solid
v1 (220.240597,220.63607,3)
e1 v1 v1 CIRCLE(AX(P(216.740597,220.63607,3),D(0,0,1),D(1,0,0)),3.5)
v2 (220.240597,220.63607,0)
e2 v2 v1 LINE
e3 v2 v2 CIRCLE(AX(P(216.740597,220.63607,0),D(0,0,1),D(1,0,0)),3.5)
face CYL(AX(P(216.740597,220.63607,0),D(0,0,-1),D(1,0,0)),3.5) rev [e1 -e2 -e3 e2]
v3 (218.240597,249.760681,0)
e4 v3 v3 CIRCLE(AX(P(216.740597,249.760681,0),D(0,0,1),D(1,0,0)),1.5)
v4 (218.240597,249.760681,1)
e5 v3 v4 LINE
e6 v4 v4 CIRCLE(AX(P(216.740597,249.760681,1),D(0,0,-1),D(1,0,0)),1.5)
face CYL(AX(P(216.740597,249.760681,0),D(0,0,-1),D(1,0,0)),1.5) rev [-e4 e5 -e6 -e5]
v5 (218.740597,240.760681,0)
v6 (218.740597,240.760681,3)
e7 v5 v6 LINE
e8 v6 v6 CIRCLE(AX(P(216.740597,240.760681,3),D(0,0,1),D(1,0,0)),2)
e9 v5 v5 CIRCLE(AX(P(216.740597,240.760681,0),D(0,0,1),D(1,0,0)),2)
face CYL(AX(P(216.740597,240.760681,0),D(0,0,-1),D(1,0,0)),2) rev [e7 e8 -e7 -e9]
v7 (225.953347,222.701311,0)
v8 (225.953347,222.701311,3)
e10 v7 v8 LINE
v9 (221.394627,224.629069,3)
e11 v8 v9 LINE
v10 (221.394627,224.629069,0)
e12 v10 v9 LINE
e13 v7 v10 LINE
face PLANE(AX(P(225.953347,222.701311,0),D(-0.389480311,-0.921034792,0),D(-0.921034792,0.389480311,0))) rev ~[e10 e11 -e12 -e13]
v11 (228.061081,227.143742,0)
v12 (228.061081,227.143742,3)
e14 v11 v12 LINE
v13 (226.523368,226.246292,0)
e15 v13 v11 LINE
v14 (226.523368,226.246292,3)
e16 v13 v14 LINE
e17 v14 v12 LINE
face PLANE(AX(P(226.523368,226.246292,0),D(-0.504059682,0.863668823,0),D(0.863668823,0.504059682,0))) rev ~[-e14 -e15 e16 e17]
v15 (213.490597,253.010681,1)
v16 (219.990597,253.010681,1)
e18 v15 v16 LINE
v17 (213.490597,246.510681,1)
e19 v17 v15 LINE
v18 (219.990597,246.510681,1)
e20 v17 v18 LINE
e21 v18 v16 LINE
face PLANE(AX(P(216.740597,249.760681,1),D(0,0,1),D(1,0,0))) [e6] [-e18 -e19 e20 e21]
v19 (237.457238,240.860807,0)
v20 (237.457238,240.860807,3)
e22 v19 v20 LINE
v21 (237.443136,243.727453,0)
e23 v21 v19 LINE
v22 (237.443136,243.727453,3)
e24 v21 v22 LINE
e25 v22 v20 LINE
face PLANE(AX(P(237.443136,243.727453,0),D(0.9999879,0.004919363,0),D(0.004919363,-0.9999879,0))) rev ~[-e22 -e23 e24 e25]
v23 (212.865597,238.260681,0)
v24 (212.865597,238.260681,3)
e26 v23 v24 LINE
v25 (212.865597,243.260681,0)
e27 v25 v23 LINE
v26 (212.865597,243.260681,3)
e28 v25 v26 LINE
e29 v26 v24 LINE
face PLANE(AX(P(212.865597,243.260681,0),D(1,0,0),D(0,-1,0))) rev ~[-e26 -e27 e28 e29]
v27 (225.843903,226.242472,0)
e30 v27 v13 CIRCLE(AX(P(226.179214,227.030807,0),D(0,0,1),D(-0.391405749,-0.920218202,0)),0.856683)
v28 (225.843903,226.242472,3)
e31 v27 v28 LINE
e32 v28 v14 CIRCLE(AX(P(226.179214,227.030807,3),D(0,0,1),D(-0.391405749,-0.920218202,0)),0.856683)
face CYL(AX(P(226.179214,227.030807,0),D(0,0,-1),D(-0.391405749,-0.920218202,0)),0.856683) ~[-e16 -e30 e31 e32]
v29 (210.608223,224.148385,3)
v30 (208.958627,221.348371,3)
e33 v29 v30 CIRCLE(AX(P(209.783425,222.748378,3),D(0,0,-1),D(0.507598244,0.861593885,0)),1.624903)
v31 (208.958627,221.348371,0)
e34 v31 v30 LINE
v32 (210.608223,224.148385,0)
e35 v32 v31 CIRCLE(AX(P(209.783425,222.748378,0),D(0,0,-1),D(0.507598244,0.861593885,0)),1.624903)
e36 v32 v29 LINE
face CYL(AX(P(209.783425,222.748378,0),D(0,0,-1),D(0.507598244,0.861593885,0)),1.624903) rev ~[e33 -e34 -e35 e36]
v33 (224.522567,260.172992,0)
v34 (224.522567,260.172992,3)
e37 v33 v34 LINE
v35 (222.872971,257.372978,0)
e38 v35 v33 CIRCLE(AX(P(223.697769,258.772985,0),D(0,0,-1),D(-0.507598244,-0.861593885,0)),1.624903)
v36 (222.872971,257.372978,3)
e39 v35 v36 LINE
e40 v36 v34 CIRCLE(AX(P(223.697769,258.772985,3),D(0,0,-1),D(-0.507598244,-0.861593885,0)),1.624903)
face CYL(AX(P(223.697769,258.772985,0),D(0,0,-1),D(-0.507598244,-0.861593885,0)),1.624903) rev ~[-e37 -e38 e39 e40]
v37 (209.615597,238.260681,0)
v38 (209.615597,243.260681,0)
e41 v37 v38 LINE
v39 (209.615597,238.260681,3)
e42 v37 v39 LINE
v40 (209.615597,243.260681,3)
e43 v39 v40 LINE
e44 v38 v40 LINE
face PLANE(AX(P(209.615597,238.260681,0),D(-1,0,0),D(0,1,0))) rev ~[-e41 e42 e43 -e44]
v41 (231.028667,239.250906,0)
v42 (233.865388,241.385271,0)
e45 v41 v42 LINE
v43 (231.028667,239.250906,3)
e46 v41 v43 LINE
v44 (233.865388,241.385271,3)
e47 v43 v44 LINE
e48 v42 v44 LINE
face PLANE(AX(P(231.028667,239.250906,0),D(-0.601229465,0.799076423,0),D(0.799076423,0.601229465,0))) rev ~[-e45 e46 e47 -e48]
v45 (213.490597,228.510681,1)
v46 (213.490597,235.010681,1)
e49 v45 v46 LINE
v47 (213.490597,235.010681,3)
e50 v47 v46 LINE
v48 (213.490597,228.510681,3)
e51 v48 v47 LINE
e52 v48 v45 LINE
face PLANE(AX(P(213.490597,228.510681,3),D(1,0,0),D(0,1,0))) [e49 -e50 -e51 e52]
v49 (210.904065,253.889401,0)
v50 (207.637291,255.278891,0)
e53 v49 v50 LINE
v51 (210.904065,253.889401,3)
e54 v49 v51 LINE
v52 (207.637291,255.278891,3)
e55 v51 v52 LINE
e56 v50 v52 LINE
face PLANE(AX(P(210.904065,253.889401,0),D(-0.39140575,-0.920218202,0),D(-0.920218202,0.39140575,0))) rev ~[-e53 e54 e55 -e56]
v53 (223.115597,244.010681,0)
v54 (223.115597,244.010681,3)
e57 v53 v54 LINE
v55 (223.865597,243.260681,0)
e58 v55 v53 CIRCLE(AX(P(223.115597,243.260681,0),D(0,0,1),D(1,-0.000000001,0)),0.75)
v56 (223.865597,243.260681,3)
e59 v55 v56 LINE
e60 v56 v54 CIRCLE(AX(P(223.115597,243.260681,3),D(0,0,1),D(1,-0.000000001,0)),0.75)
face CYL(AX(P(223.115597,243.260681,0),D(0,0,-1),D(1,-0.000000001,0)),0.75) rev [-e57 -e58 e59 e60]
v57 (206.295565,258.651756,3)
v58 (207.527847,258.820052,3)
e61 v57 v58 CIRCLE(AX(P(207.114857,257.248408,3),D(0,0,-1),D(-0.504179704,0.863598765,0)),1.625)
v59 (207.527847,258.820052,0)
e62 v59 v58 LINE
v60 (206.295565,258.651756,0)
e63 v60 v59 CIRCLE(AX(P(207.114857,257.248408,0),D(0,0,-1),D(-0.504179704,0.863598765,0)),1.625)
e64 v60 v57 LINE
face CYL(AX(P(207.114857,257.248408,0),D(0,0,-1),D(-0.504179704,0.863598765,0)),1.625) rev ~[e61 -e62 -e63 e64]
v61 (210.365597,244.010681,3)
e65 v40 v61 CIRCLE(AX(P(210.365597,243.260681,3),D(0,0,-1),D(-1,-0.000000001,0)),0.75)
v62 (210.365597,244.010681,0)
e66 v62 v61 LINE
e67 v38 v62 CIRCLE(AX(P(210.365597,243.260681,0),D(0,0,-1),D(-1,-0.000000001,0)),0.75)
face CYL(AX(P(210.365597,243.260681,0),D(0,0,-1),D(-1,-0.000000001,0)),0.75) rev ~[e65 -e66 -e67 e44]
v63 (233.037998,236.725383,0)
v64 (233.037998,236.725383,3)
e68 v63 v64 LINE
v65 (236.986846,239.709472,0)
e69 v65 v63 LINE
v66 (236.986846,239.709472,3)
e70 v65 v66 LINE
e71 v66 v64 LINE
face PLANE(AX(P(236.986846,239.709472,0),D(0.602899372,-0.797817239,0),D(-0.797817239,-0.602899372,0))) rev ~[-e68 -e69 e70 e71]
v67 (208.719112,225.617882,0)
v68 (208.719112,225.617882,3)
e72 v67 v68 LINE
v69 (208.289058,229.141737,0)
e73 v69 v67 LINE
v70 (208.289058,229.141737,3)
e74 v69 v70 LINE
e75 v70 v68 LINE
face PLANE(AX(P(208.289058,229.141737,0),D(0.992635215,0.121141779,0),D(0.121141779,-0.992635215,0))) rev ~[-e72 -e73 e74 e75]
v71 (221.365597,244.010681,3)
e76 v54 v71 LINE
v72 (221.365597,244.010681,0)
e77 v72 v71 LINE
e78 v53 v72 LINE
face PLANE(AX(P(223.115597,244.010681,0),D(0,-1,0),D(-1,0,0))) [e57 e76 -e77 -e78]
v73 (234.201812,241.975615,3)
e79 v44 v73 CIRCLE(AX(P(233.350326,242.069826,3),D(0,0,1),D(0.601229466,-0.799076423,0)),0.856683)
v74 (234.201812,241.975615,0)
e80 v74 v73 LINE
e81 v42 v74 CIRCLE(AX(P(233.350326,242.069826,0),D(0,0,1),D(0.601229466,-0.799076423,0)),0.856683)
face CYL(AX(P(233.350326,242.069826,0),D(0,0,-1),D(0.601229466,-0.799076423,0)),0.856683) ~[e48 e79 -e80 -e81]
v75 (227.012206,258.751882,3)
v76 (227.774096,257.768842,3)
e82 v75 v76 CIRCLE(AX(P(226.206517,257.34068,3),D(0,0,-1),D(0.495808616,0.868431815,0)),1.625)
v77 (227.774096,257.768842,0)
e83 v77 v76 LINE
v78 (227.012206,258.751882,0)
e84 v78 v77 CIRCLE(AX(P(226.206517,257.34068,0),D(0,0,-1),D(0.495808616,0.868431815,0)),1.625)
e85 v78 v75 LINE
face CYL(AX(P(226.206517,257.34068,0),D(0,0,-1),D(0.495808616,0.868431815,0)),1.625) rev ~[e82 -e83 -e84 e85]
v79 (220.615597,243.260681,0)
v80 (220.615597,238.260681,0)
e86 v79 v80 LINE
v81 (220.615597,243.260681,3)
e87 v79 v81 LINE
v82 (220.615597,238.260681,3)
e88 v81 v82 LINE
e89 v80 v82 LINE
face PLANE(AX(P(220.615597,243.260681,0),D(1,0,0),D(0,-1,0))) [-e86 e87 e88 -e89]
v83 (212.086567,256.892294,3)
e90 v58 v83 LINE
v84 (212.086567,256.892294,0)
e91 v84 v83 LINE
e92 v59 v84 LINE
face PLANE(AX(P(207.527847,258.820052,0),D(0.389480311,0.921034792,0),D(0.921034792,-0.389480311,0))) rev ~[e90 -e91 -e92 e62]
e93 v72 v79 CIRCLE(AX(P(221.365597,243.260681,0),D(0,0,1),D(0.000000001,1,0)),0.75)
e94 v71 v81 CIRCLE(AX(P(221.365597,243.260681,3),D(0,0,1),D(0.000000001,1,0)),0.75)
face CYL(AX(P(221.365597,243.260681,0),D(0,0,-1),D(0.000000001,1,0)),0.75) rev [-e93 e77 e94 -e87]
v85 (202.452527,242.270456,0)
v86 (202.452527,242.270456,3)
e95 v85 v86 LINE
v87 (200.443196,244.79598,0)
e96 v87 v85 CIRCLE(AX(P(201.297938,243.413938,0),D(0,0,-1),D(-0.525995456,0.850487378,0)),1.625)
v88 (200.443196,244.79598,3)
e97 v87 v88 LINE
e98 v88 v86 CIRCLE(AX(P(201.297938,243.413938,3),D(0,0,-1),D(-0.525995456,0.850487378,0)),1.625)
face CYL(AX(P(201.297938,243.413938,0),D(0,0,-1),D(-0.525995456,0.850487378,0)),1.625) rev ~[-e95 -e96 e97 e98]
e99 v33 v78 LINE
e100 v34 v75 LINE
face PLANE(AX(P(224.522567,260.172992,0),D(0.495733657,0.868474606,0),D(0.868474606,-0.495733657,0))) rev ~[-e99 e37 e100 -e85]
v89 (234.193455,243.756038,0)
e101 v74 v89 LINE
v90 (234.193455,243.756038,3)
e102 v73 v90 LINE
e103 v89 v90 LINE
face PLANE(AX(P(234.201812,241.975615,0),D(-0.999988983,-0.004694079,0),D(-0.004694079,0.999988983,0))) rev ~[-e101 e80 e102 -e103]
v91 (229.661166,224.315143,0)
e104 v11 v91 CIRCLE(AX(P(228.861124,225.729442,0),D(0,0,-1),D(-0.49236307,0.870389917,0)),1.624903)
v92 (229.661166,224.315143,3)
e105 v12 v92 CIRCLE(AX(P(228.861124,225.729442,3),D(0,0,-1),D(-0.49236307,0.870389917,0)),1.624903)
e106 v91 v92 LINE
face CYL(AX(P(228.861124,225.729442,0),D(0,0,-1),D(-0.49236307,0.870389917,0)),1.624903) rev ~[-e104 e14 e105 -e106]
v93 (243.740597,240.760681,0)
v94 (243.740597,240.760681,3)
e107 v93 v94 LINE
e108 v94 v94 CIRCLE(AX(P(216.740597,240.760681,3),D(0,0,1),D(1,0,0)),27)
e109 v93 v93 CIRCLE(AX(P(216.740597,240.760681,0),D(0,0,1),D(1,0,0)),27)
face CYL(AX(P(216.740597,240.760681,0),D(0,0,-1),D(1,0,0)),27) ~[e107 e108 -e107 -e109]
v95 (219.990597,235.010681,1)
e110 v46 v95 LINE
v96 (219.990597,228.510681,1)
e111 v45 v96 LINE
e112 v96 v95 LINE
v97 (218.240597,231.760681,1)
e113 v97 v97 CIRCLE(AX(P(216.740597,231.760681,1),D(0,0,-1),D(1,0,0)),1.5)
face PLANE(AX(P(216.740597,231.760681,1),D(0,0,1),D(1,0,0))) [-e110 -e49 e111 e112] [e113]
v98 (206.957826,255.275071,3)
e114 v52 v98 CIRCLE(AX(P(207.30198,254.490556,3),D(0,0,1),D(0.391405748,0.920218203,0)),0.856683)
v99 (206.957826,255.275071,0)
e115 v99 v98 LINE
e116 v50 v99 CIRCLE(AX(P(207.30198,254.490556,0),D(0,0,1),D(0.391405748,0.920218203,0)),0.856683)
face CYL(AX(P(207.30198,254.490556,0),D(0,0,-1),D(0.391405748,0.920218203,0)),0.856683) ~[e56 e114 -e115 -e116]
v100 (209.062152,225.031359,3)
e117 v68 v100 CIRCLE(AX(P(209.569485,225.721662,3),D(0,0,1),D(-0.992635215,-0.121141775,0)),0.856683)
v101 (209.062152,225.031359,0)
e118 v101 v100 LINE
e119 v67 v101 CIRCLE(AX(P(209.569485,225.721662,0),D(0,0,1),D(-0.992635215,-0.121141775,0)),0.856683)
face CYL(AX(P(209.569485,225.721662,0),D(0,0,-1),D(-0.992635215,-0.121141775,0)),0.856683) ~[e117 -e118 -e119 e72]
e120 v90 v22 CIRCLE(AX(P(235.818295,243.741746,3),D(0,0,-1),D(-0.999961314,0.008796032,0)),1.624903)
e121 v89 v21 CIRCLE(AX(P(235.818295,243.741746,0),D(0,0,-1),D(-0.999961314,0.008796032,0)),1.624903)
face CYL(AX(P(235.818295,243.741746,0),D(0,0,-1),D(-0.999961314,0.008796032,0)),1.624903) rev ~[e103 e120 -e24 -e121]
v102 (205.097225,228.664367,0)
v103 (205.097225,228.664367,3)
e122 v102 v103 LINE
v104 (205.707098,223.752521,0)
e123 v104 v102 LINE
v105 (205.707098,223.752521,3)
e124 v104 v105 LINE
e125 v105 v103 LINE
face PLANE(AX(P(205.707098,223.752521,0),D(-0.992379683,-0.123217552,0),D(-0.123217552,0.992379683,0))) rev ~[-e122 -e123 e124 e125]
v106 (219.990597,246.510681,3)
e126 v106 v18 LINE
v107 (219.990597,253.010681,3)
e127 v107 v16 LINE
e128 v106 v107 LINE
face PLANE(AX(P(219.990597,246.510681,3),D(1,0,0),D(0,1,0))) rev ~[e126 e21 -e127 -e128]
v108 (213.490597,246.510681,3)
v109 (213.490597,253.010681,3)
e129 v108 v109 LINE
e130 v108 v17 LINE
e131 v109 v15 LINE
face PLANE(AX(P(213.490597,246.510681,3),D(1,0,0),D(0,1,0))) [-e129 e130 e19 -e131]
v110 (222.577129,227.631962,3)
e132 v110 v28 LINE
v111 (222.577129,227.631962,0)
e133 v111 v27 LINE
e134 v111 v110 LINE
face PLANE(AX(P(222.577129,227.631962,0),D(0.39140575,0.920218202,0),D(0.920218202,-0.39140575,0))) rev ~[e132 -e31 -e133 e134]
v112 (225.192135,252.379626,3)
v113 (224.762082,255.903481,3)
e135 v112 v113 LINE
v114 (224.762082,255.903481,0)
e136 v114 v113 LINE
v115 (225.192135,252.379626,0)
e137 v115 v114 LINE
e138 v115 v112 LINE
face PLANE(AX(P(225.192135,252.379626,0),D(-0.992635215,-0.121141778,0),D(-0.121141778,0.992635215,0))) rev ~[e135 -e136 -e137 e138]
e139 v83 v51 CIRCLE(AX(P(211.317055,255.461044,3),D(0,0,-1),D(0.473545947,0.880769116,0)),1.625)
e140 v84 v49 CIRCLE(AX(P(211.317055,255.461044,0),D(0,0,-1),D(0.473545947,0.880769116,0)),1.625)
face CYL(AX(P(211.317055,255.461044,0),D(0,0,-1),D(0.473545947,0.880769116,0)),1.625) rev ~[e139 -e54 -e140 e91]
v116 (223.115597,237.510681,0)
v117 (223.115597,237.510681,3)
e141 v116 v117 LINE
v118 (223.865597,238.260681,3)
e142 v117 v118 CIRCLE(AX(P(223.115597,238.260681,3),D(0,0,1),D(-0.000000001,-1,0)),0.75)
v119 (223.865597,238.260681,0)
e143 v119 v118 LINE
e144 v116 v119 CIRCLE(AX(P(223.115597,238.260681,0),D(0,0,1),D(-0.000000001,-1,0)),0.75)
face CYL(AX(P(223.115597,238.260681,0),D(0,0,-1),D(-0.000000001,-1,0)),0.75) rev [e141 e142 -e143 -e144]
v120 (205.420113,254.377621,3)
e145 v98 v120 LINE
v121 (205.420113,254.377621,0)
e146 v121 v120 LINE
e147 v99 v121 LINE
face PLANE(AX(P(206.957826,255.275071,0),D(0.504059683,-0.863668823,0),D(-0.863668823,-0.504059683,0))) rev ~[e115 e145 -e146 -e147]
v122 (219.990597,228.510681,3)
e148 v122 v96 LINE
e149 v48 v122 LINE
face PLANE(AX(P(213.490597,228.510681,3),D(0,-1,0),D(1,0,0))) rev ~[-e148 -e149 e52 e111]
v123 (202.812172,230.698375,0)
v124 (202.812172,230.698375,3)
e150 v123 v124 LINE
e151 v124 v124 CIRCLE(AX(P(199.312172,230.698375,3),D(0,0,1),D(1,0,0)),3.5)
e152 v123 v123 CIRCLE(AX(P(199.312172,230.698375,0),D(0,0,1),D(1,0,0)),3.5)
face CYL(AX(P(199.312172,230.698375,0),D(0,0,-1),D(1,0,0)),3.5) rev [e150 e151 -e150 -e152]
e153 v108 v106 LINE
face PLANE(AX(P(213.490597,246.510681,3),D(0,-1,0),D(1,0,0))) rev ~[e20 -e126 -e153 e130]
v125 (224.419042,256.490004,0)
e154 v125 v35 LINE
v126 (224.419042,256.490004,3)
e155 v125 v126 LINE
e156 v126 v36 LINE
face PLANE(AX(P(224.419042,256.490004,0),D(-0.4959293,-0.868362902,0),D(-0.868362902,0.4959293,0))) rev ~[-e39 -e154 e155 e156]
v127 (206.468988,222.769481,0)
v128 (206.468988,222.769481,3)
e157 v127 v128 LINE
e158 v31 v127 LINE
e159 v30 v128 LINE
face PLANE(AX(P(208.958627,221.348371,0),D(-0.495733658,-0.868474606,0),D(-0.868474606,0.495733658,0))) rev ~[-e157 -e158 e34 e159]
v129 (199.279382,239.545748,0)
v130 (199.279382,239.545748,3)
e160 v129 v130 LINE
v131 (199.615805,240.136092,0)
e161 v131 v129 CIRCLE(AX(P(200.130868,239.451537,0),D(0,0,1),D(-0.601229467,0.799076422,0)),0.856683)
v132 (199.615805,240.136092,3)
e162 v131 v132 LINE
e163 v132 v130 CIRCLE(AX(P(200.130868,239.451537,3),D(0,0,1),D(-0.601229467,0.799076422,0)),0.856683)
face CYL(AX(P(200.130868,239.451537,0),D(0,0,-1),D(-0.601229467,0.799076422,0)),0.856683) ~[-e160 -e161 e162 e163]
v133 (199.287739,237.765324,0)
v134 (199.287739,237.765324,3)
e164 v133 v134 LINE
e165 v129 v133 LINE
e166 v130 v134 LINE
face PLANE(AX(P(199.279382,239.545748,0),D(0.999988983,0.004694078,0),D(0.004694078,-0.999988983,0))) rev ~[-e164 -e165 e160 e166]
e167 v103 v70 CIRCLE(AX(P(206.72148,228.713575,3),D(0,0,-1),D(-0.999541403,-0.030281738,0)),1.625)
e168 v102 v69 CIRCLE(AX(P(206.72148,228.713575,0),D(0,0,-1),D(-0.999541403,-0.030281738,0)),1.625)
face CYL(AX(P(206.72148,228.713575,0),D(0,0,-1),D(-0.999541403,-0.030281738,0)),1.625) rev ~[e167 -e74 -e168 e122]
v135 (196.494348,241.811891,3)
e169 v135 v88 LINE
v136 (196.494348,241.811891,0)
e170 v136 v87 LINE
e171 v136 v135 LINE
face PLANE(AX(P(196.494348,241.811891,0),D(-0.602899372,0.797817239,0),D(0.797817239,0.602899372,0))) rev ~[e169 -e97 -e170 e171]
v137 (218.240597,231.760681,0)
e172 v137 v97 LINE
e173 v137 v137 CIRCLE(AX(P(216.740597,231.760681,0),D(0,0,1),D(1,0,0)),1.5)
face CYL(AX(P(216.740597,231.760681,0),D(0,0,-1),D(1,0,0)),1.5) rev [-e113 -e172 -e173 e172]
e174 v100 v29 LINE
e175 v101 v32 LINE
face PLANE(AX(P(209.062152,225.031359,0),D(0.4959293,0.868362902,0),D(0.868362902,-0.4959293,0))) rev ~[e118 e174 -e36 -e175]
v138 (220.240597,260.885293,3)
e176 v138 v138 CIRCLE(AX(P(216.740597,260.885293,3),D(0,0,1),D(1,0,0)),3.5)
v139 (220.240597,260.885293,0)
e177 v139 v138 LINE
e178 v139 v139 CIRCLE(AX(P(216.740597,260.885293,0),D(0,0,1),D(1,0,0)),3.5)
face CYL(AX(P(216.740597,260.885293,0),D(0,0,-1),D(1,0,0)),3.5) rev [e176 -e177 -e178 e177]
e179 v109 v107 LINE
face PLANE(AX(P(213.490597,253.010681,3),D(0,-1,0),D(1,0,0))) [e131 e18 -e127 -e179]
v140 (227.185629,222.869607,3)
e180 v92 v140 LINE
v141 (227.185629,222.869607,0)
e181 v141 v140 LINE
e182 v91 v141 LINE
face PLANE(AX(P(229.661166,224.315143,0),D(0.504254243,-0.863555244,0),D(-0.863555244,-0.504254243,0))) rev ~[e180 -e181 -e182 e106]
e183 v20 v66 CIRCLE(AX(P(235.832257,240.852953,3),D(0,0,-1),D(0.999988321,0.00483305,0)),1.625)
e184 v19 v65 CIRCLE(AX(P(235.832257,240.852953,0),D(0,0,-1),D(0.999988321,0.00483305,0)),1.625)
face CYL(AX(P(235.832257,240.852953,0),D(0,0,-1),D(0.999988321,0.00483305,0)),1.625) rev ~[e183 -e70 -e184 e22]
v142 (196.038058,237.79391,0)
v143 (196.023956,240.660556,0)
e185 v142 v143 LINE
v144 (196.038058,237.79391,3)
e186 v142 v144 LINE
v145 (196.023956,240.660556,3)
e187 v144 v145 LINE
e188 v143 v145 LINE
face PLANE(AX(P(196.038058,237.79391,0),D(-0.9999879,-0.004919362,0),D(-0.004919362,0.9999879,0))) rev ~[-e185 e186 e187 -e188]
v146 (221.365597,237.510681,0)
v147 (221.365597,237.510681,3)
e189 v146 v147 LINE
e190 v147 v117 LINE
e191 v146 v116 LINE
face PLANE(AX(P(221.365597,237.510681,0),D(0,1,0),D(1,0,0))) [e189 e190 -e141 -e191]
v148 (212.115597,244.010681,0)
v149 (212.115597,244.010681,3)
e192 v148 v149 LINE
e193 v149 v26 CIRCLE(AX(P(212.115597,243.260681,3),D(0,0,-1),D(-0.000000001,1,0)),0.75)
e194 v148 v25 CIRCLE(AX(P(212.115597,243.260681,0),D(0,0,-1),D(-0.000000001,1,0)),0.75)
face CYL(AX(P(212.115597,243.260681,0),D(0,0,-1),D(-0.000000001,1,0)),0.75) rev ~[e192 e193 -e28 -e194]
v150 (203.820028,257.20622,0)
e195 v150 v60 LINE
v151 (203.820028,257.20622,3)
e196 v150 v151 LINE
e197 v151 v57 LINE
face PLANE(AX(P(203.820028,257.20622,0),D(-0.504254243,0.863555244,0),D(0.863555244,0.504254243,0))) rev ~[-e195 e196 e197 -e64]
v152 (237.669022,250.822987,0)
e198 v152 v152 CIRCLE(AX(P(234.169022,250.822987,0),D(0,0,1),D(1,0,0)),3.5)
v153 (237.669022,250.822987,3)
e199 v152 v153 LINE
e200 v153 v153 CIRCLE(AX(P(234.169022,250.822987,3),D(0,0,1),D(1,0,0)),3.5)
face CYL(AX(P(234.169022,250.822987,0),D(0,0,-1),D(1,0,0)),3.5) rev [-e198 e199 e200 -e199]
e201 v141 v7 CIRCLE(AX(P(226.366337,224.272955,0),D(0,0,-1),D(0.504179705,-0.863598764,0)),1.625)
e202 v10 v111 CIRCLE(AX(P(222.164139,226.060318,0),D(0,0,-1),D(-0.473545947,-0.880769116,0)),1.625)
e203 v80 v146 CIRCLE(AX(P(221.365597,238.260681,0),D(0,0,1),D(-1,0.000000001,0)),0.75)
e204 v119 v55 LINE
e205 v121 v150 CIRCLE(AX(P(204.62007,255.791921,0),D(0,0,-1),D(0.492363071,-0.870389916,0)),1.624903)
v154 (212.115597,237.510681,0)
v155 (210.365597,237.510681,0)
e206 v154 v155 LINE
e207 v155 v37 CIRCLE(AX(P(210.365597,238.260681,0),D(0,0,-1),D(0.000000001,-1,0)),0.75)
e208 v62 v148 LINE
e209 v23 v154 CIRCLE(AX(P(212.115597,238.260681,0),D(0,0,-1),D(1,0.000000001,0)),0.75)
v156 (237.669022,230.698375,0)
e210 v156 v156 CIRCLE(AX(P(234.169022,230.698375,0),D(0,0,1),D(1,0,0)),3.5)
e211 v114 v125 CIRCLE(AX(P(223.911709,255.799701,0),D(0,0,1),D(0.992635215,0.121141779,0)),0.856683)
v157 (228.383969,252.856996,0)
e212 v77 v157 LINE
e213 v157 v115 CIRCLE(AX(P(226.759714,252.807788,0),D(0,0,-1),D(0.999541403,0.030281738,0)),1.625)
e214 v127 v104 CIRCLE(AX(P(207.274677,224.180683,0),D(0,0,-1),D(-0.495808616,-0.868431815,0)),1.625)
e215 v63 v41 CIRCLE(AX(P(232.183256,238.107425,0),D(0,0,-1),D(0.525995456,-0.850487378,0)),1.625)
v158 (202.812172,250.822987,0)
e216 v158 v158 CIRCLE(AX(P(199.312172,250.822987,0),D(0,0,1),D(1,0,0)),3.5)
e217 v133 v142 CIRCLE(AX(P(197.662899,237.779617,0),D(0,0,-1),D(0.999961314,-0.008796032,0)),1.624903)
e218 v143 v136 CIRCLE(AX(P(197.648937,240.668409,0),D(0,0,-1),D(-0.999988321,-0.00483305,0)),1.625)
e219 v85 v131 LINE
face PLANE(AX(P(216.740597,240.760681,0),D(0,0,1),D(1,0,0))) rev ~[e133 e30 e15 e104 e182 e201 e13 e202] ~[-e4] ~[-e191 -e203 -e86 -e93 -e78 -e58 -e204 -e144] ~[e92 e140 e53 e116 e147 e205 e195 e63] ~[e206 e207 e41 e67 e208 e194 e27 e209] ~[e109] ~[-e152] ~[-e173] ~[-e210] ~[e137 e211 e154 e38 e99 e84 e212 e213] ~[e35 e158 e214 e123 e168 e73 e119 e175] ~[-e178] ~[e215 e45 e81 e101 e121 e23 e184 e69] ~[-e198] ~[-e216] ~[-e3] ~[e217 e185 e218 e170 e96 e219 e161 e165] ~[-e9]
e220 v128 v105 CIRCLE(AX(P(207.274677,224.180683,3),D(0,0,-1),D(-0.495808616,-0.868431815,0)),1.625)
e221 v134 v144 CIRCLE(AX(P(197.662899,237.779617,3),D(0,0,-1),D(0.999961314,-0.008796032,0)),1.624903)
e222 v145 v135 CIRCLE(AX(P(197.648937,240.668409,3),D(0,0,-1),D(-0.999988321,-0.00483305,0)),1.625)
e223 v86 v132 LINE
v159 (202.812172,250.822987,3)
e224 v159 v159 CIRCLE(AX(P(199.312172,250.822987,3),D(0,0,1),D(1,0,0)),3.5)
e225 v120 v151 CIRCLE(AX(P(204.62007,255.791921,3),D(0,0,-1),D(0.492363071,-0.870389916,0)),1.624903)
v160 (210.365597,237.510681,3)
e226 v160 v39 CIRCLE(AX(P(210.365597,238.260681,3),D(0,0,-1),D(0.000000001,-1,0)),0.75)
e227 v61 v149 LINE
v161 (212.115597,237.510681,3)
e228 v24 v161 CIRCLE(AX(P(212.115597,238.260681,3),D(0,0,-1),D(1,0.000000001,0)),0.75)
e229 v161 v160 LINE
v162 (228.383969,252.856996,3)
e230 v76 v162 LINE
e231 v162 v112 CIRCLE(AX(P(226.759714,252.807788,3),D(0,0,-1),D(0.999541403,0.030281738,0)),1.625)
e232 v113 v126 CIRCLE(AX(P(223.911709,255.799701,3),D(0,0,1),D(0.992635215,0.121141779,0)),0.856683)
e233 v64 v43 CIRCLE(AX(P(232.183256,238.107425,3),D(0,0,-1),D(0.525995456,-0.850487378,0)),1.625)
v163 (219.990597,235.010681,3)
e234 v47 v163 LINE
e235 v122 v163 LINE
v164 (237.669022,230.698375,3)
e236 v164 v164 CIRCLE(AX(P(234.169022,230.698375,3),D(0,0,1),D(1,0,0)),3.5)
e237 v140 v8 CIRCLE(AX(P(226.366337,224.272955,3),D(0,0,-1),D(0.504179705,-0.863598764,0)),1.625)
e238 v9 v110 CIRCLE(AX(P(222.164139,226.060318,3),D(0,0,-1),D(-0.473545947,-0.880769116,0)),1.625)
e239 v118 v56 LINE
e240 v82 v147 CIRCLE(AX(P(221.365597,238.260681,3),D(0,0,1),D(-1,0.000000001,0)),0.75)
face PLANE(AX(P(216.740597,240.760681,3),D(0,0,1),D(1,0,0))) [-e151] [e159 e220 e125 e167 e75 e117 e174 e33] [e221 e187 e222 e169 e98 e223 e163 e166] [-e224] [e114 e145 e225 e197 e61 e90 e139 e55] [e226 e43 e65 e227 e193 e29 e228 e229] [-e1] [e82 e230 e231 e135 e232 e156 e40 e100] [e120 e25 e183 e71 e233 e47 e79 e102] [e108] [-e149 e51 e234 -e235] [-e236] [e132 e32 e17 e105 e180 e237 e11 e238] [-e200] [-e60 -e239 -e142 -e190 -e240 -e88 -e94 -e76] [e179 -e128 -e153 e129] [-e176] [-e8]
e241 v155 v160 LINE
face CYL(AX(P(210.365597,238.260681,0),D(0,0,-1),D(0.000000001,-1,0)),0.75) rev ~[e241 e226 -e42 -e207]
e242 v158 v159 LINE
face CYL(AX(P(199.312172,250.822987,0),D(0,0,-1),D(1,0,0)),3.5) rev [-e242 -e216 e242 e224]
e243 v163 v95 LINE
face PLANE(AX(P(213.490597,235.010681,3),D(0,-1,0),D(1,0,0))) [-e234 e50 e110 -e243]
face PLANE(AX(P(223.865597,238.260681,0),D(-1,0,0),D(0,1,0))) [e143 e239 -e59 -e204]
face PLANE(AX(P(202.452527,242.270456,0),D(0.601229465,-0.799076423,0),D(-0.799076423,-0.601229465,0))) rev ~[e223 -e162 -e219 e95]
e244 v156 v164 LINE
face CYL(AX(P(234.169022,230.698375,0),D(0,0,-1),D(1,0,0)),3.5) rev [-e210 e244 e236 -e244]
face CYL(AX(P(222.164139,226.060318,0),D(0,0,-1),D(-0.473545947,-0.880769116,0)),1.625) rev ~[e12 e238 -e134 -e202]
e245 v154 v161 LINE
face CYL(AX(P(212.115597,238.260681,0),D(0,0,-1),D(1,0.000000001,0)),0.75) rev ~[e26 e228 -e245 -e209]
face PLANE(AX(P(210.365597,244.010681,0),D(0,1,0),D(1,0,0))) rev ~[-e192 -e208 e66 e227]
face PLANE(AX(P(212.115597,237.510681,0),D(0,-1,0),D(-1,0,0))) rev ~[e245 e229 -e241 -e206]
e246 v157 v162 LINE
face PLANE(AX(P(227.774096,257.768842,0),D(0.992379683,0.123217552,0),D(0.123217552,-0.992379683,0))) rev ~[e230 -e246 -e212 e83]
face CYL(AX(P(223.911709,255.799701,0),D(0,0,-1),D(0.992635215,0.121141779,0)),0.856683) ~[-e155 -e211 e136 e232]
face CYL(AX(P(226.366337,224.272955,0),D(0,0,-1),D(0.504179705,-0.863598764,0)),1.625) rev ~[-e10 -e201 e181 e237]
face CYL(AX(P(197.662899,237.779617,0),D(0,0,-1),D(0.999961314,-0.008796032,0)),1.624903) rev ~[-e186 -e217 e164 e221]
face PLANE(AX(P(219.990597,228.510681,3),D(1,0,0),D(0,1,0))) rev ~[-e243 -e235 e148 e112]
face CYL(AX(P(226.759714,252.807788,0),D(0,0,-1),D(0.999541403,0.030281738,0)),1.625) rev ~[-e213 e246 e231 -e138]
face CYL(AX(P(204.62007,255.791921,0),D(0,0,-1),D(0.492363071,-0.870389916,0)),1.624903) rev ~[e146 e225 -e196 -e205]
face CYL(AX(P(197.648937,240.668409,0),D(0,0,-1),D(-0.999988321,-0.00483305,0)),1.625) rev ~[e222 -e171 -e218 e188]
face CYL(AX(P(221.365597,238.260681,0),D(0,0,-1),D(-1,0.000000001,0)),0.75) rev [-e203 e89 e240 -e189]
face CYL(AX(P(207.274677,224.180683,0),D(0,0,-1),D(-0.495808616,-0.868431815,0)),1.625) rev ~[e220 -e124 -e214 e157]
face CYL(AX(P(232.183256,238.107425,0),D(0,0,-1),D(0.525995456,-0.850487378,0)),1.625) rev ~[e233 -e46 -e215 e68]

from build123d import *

# Parameters (mm, degrees)
MODEL_R                 = 27
MODEL_R_2               = 1.5
MODEL_R_3               = 3.5
MODEL_R_4               = 2
SALIENTE_EXTRUIR1_DEPTH = 3
CROQUIS2_W              = 6.5
CROQUIS2_H              = 6.5
CORTAR_EXTRUIR1_DEPTH   = 2


with BuildPart() as part:
    # Model → Saliente-Extruir1 (new body)
    with BuildSketch(Plane.XY):
        with Locations((216.74059699, 240.760681356)):
            Circle(MODEL_R)
        with Locations((216.74059699, 249.760681356)):
            Circle(MODEL_R_2, mode=Mode.SUBTRACT)
        with BuildLine():
            ThreePointArc((208.719111811, 225.617882009), (208.829996246, 225.28915626), (209.06215237, 225.03135884))
            Line((209.06215237, 225.03135884), (210.608223397, 224.148384774))
            ThreePointArc((210.608223397, 224.148384774), (211.183432146, 221.923579716), (208.958627088, 221.348370966))
            Line((208.958627088, 221.348370966), (206.468987847, 222.769480989))
            ThreePointArc((206.468987847, 222.769480989), (205.990273761, 223.185226154), (205.707098402, 223.752520553))
            Line((205.707098402, 223.752520553), (205.097225271, 228.664367063))
            ThreePointArc((205.097225271, 228.664367063), (206.481118716, 230.320700093), (208.289058497, 229.141737021))
            Line((208.289058497, 229.141737021), (208.719111811, 225.617882009))
        make_face(mode=Mode.SUBTRACT)
        with Locations((199.312171932, 230.698375457)):
            Circle(MODEL_R_3, mode=Mode.SUBTRACT)
        with BuildLine():
            ThreePointArc((199.615805481, 240.136091624), (199.38656285, 239.875700011), (199.279381797, 239.5457482))
            Line((199.279381797, 239.5457482), (199.287739338, 237.765324382))
            ThreePointArc((199.287739338, 237.765324382), (197.648606014, 236.154776464), (196.038058096, 237.793909788))
            Line((196.038058096, 237.793909788), (196.023955856, 240.660555628))
            ThreePointArc((196.023955856, 240.660555628), (196.144644688, 241.283006771), (196.494348369, 241.811891025))
            Line((196.494348369, 241.811891025), (200.44319566, 244.795979904))
            ThreePointArc((200.44319566, 244.795979904), (202.569568865, 244.42565954), (202.452526784, 242.270456224))
            Line((202.452526784, 242.270456224), (199.615805481, 240.136091624))
        make_face(mode=Mode.SUBTRACT)
        with Locations((216.74059699, 220.636069558)):
            Circle(MODEL_R_3, mode=Mode.SUBTRACT)
        with BuildLine():
            ThreePointArc((225.84390332, 226.242471741), (226.184030387, 226.174137605), (226.523367563, 226.246291995))
            Line((226.523367563, 226.246291995), (228.061081049, 227.143741747))
            ThreePointArc((228.061081049, 227.143741747), (230.275423122, 226.529484608), (229.661165983, 224.315142535))
            Line((229.661165983, 224.315142535), (227.185628981, 222.869606716))
            ThreePointArc((227.185628981, 222.869606716), (226.586226063, 222.662900739), (225.953347023, 222.701310884))
            Line((225.953347023, 222.701310884), (221.3946266, 224.629068514))
            ThreePointArc((221.3946266, 224.629068514), (220.652146842, 226.65572191), (222.577128703, 227.631962152))
            Line((222.577128703, 227.631962152), (225.84390332, 226.242471741))
        make_face(mode=Mode.SUBTRACT)
        with Locations((234.169022048, 230.698375457)):
            Circle(MODEL_R_3, mode=Mode.SUBTRACT)
        with Locations((199.312171932, 250.822987255)):
            Circle(MODEL_R_3, mode=Mode.SUBTRACT)
        with BuildLine():
            ThreePointArc((209.61559699, 243.260681356), (209.835266904, 243.791011442), (210.36559699, 244.010681356))
            Line((210.36559699, 244.010681356), (212.11559699, 244.010681356))
            ThreePointArc((212.11559699, 244.010681356), (212.645927076, 243.791011442), (212.86559699, 243.260681356))
            Line((212.86559699, 243.260681356), (212.86559699, 238.260681356))
            ThreePointArc((212.86559699, 238.260681356), (212.645927076, 237.73035127), (212.11559699, 237.510681356))
            Line((212.11559699, 237.510681356), (210.36559699, 237.510681356))
            ThreePointArc((210.36559699, 237.510681356), (209.835266904, 237.73035127), (209.61559699, 238.260681356))
            Line((209.61559699, 238.260681356), (209.61559699, 243.260681356))
        make_face(mode=Mode.SUBTRACT)
        with BuildLine():
            ThreePointArc((207.637290661, 255.278890971), (207.297163594, 255.347225107), (206.957826417, 255.275070717))
            Line((206.957826417, 255.275070717), (205.420112932, 254.377620965))
            ThreePointArc((205.420112932, 254.377620965), (203.205770858, 254.991878104), (203.820027998, 257.206220177))
            Line((203.820027998, 257.206220177), (206.295564999, 258.651755995))
            ThreePointArc((206.295564999, 258.651755995), (206.894967917, 258.858461972), (207.527846958, 258.820051828))
            Line((207.527846958, 258.820051828), (212.08656738, 256.892294198))
            ThreePointArc((212.08656738, 256.892294198), (212.829047139, 254.865640802), (210.904065277, 253.889400559))
            Line((210.904065277, 253.889400559), (207.637290661, 255.278890971))
        make_face(mode=Mode.SUBTRACT)
        with Locations((216.74059699, 240.760681356)):
            Circle(MODEL_R_4, mode=Mode.SUBTRACT)
        with BuildLine():
            Line((221.36559699, 244.010681356), (223.11559699, 244.010681356))
            ThreePointArc((223.11559699, 244.010681356), (223.645927076, 243.791011442), (223.86559699, 243.260681356))
            Line((223.86559699, 243.260681356), (223.86559699, 238.260681356))
            ThreePointArc((223.86559699, 238.260681356), (223.645927076, 237.73035127), (223.11559699, 237.510681356))
            Line((223.11559699, 237.510681356), (221.36559699, 237.510681356))
            ThreePointArc((221.36559699, 237.510681356), (220.835266904, 237.73035127), (220.61559699, 238.260681356))
            Line((220.61559699, 238.260681356), (220.61559699, 243.260681356))
            ThreePointArc((220.61559699, 243.260681356), (220.835266904, 243.791011442), (221.36559699, 244.010681356))
        make_face(mode=Mode.SUBTRACT)
        with BuildLine():
            ThreePointArc((227.012206134, 258.751881723), (227.49092022, 258.336136558), (227.774095579, 257.768842159))
            Line((227.774095579, 257.768842159), (228.38396871, 252.856995649))
            ThreePointArc((228.38396871, 252.856995649), (227.000075264, 251.200662618), (225.192135483, 252.379625691))
            Line((225.192135483, 252.379625691), (224.76208217, 255.903480703))
            ThreePointArc((224.76208217, 255.903480703), (224.651197734, 256.232206452), (224.41904161, 256.490003872))
            Line((224.41904161, 256.490003872), (222.872970584, 257.372977938))
            ThreePointArc((222.872970584, 257.372977938), (222.297761834, 259.597782996), (224.522566892, 260.172991745))
            Line((224.522566892, 260.172991745), (227.012206134, 258.751881723))
        make_face(mode=Mode.SUBTRACT)
        with BuildLine():
            ThreePointArc((233.865388499, 241.385271088), (234.09463113, 241.6456627), (234.201812184, 241.975614511))
            Line((234.201812184, 241.975614511), (234.193454642, 243.75603833))
            ThreePointArc((234.193454642, 243.75603833), (235.832587966, 245.366586248), (237.443135884, 243.727452924))
            Line((237.443135884, 243.727452924), (237.457238125, 240.860807084))
            ThreePointArc((237.457238125, 240.860807084), (237.336549293, 240.238355941), (236.986845611, 239.709471687))
            Line((236.986845611, 239.709471687), (233.03799832, 236.725382808))
            ThreePointArc((233.03799832, 236.725382808), (230.911625115, 237.095703172), (231.028667196, 239.250906488))
            Line((231.028667196, 239.250906488), (233.865388499, 241.385271088))
        make_face(mode=Mode.SUBTRACT)
        with Locations((234.169022048, 250.822987255)):
            Circle(MODEL_R_3, mode=Mode.SUBTRACT)
        with Locations((216.74059699, 260.885293153)):
            Circle(MODEL_R_3, mode=Mode.SUBTRACT)
        with Locations((216.74059699, 231.760681356)):
            Circle(MODEL_R_2, mode=Mode.SUBTRACT)
    extrude(amount=SALIENTE_EXTRUIR1_DEPTH)

    # Croquis2 → Cortar-Extruir1 (cut)
    with BuildSketch(Plane.XY.offset(3)):
        with Locations((216.74059699, 249.760681356)):
            Rectangle(CROQUIS2_W, CROQUIS2_H)
        with Locations((216.74059699, 231.760681356)):
            Rectangle(CROQUIS2_W, CROQUIS2_H)
    extrude(amount=-CORTAR_EXTRUIR1_DEPTH, mode=Mode.SUBTRACT)


solid = part.part
